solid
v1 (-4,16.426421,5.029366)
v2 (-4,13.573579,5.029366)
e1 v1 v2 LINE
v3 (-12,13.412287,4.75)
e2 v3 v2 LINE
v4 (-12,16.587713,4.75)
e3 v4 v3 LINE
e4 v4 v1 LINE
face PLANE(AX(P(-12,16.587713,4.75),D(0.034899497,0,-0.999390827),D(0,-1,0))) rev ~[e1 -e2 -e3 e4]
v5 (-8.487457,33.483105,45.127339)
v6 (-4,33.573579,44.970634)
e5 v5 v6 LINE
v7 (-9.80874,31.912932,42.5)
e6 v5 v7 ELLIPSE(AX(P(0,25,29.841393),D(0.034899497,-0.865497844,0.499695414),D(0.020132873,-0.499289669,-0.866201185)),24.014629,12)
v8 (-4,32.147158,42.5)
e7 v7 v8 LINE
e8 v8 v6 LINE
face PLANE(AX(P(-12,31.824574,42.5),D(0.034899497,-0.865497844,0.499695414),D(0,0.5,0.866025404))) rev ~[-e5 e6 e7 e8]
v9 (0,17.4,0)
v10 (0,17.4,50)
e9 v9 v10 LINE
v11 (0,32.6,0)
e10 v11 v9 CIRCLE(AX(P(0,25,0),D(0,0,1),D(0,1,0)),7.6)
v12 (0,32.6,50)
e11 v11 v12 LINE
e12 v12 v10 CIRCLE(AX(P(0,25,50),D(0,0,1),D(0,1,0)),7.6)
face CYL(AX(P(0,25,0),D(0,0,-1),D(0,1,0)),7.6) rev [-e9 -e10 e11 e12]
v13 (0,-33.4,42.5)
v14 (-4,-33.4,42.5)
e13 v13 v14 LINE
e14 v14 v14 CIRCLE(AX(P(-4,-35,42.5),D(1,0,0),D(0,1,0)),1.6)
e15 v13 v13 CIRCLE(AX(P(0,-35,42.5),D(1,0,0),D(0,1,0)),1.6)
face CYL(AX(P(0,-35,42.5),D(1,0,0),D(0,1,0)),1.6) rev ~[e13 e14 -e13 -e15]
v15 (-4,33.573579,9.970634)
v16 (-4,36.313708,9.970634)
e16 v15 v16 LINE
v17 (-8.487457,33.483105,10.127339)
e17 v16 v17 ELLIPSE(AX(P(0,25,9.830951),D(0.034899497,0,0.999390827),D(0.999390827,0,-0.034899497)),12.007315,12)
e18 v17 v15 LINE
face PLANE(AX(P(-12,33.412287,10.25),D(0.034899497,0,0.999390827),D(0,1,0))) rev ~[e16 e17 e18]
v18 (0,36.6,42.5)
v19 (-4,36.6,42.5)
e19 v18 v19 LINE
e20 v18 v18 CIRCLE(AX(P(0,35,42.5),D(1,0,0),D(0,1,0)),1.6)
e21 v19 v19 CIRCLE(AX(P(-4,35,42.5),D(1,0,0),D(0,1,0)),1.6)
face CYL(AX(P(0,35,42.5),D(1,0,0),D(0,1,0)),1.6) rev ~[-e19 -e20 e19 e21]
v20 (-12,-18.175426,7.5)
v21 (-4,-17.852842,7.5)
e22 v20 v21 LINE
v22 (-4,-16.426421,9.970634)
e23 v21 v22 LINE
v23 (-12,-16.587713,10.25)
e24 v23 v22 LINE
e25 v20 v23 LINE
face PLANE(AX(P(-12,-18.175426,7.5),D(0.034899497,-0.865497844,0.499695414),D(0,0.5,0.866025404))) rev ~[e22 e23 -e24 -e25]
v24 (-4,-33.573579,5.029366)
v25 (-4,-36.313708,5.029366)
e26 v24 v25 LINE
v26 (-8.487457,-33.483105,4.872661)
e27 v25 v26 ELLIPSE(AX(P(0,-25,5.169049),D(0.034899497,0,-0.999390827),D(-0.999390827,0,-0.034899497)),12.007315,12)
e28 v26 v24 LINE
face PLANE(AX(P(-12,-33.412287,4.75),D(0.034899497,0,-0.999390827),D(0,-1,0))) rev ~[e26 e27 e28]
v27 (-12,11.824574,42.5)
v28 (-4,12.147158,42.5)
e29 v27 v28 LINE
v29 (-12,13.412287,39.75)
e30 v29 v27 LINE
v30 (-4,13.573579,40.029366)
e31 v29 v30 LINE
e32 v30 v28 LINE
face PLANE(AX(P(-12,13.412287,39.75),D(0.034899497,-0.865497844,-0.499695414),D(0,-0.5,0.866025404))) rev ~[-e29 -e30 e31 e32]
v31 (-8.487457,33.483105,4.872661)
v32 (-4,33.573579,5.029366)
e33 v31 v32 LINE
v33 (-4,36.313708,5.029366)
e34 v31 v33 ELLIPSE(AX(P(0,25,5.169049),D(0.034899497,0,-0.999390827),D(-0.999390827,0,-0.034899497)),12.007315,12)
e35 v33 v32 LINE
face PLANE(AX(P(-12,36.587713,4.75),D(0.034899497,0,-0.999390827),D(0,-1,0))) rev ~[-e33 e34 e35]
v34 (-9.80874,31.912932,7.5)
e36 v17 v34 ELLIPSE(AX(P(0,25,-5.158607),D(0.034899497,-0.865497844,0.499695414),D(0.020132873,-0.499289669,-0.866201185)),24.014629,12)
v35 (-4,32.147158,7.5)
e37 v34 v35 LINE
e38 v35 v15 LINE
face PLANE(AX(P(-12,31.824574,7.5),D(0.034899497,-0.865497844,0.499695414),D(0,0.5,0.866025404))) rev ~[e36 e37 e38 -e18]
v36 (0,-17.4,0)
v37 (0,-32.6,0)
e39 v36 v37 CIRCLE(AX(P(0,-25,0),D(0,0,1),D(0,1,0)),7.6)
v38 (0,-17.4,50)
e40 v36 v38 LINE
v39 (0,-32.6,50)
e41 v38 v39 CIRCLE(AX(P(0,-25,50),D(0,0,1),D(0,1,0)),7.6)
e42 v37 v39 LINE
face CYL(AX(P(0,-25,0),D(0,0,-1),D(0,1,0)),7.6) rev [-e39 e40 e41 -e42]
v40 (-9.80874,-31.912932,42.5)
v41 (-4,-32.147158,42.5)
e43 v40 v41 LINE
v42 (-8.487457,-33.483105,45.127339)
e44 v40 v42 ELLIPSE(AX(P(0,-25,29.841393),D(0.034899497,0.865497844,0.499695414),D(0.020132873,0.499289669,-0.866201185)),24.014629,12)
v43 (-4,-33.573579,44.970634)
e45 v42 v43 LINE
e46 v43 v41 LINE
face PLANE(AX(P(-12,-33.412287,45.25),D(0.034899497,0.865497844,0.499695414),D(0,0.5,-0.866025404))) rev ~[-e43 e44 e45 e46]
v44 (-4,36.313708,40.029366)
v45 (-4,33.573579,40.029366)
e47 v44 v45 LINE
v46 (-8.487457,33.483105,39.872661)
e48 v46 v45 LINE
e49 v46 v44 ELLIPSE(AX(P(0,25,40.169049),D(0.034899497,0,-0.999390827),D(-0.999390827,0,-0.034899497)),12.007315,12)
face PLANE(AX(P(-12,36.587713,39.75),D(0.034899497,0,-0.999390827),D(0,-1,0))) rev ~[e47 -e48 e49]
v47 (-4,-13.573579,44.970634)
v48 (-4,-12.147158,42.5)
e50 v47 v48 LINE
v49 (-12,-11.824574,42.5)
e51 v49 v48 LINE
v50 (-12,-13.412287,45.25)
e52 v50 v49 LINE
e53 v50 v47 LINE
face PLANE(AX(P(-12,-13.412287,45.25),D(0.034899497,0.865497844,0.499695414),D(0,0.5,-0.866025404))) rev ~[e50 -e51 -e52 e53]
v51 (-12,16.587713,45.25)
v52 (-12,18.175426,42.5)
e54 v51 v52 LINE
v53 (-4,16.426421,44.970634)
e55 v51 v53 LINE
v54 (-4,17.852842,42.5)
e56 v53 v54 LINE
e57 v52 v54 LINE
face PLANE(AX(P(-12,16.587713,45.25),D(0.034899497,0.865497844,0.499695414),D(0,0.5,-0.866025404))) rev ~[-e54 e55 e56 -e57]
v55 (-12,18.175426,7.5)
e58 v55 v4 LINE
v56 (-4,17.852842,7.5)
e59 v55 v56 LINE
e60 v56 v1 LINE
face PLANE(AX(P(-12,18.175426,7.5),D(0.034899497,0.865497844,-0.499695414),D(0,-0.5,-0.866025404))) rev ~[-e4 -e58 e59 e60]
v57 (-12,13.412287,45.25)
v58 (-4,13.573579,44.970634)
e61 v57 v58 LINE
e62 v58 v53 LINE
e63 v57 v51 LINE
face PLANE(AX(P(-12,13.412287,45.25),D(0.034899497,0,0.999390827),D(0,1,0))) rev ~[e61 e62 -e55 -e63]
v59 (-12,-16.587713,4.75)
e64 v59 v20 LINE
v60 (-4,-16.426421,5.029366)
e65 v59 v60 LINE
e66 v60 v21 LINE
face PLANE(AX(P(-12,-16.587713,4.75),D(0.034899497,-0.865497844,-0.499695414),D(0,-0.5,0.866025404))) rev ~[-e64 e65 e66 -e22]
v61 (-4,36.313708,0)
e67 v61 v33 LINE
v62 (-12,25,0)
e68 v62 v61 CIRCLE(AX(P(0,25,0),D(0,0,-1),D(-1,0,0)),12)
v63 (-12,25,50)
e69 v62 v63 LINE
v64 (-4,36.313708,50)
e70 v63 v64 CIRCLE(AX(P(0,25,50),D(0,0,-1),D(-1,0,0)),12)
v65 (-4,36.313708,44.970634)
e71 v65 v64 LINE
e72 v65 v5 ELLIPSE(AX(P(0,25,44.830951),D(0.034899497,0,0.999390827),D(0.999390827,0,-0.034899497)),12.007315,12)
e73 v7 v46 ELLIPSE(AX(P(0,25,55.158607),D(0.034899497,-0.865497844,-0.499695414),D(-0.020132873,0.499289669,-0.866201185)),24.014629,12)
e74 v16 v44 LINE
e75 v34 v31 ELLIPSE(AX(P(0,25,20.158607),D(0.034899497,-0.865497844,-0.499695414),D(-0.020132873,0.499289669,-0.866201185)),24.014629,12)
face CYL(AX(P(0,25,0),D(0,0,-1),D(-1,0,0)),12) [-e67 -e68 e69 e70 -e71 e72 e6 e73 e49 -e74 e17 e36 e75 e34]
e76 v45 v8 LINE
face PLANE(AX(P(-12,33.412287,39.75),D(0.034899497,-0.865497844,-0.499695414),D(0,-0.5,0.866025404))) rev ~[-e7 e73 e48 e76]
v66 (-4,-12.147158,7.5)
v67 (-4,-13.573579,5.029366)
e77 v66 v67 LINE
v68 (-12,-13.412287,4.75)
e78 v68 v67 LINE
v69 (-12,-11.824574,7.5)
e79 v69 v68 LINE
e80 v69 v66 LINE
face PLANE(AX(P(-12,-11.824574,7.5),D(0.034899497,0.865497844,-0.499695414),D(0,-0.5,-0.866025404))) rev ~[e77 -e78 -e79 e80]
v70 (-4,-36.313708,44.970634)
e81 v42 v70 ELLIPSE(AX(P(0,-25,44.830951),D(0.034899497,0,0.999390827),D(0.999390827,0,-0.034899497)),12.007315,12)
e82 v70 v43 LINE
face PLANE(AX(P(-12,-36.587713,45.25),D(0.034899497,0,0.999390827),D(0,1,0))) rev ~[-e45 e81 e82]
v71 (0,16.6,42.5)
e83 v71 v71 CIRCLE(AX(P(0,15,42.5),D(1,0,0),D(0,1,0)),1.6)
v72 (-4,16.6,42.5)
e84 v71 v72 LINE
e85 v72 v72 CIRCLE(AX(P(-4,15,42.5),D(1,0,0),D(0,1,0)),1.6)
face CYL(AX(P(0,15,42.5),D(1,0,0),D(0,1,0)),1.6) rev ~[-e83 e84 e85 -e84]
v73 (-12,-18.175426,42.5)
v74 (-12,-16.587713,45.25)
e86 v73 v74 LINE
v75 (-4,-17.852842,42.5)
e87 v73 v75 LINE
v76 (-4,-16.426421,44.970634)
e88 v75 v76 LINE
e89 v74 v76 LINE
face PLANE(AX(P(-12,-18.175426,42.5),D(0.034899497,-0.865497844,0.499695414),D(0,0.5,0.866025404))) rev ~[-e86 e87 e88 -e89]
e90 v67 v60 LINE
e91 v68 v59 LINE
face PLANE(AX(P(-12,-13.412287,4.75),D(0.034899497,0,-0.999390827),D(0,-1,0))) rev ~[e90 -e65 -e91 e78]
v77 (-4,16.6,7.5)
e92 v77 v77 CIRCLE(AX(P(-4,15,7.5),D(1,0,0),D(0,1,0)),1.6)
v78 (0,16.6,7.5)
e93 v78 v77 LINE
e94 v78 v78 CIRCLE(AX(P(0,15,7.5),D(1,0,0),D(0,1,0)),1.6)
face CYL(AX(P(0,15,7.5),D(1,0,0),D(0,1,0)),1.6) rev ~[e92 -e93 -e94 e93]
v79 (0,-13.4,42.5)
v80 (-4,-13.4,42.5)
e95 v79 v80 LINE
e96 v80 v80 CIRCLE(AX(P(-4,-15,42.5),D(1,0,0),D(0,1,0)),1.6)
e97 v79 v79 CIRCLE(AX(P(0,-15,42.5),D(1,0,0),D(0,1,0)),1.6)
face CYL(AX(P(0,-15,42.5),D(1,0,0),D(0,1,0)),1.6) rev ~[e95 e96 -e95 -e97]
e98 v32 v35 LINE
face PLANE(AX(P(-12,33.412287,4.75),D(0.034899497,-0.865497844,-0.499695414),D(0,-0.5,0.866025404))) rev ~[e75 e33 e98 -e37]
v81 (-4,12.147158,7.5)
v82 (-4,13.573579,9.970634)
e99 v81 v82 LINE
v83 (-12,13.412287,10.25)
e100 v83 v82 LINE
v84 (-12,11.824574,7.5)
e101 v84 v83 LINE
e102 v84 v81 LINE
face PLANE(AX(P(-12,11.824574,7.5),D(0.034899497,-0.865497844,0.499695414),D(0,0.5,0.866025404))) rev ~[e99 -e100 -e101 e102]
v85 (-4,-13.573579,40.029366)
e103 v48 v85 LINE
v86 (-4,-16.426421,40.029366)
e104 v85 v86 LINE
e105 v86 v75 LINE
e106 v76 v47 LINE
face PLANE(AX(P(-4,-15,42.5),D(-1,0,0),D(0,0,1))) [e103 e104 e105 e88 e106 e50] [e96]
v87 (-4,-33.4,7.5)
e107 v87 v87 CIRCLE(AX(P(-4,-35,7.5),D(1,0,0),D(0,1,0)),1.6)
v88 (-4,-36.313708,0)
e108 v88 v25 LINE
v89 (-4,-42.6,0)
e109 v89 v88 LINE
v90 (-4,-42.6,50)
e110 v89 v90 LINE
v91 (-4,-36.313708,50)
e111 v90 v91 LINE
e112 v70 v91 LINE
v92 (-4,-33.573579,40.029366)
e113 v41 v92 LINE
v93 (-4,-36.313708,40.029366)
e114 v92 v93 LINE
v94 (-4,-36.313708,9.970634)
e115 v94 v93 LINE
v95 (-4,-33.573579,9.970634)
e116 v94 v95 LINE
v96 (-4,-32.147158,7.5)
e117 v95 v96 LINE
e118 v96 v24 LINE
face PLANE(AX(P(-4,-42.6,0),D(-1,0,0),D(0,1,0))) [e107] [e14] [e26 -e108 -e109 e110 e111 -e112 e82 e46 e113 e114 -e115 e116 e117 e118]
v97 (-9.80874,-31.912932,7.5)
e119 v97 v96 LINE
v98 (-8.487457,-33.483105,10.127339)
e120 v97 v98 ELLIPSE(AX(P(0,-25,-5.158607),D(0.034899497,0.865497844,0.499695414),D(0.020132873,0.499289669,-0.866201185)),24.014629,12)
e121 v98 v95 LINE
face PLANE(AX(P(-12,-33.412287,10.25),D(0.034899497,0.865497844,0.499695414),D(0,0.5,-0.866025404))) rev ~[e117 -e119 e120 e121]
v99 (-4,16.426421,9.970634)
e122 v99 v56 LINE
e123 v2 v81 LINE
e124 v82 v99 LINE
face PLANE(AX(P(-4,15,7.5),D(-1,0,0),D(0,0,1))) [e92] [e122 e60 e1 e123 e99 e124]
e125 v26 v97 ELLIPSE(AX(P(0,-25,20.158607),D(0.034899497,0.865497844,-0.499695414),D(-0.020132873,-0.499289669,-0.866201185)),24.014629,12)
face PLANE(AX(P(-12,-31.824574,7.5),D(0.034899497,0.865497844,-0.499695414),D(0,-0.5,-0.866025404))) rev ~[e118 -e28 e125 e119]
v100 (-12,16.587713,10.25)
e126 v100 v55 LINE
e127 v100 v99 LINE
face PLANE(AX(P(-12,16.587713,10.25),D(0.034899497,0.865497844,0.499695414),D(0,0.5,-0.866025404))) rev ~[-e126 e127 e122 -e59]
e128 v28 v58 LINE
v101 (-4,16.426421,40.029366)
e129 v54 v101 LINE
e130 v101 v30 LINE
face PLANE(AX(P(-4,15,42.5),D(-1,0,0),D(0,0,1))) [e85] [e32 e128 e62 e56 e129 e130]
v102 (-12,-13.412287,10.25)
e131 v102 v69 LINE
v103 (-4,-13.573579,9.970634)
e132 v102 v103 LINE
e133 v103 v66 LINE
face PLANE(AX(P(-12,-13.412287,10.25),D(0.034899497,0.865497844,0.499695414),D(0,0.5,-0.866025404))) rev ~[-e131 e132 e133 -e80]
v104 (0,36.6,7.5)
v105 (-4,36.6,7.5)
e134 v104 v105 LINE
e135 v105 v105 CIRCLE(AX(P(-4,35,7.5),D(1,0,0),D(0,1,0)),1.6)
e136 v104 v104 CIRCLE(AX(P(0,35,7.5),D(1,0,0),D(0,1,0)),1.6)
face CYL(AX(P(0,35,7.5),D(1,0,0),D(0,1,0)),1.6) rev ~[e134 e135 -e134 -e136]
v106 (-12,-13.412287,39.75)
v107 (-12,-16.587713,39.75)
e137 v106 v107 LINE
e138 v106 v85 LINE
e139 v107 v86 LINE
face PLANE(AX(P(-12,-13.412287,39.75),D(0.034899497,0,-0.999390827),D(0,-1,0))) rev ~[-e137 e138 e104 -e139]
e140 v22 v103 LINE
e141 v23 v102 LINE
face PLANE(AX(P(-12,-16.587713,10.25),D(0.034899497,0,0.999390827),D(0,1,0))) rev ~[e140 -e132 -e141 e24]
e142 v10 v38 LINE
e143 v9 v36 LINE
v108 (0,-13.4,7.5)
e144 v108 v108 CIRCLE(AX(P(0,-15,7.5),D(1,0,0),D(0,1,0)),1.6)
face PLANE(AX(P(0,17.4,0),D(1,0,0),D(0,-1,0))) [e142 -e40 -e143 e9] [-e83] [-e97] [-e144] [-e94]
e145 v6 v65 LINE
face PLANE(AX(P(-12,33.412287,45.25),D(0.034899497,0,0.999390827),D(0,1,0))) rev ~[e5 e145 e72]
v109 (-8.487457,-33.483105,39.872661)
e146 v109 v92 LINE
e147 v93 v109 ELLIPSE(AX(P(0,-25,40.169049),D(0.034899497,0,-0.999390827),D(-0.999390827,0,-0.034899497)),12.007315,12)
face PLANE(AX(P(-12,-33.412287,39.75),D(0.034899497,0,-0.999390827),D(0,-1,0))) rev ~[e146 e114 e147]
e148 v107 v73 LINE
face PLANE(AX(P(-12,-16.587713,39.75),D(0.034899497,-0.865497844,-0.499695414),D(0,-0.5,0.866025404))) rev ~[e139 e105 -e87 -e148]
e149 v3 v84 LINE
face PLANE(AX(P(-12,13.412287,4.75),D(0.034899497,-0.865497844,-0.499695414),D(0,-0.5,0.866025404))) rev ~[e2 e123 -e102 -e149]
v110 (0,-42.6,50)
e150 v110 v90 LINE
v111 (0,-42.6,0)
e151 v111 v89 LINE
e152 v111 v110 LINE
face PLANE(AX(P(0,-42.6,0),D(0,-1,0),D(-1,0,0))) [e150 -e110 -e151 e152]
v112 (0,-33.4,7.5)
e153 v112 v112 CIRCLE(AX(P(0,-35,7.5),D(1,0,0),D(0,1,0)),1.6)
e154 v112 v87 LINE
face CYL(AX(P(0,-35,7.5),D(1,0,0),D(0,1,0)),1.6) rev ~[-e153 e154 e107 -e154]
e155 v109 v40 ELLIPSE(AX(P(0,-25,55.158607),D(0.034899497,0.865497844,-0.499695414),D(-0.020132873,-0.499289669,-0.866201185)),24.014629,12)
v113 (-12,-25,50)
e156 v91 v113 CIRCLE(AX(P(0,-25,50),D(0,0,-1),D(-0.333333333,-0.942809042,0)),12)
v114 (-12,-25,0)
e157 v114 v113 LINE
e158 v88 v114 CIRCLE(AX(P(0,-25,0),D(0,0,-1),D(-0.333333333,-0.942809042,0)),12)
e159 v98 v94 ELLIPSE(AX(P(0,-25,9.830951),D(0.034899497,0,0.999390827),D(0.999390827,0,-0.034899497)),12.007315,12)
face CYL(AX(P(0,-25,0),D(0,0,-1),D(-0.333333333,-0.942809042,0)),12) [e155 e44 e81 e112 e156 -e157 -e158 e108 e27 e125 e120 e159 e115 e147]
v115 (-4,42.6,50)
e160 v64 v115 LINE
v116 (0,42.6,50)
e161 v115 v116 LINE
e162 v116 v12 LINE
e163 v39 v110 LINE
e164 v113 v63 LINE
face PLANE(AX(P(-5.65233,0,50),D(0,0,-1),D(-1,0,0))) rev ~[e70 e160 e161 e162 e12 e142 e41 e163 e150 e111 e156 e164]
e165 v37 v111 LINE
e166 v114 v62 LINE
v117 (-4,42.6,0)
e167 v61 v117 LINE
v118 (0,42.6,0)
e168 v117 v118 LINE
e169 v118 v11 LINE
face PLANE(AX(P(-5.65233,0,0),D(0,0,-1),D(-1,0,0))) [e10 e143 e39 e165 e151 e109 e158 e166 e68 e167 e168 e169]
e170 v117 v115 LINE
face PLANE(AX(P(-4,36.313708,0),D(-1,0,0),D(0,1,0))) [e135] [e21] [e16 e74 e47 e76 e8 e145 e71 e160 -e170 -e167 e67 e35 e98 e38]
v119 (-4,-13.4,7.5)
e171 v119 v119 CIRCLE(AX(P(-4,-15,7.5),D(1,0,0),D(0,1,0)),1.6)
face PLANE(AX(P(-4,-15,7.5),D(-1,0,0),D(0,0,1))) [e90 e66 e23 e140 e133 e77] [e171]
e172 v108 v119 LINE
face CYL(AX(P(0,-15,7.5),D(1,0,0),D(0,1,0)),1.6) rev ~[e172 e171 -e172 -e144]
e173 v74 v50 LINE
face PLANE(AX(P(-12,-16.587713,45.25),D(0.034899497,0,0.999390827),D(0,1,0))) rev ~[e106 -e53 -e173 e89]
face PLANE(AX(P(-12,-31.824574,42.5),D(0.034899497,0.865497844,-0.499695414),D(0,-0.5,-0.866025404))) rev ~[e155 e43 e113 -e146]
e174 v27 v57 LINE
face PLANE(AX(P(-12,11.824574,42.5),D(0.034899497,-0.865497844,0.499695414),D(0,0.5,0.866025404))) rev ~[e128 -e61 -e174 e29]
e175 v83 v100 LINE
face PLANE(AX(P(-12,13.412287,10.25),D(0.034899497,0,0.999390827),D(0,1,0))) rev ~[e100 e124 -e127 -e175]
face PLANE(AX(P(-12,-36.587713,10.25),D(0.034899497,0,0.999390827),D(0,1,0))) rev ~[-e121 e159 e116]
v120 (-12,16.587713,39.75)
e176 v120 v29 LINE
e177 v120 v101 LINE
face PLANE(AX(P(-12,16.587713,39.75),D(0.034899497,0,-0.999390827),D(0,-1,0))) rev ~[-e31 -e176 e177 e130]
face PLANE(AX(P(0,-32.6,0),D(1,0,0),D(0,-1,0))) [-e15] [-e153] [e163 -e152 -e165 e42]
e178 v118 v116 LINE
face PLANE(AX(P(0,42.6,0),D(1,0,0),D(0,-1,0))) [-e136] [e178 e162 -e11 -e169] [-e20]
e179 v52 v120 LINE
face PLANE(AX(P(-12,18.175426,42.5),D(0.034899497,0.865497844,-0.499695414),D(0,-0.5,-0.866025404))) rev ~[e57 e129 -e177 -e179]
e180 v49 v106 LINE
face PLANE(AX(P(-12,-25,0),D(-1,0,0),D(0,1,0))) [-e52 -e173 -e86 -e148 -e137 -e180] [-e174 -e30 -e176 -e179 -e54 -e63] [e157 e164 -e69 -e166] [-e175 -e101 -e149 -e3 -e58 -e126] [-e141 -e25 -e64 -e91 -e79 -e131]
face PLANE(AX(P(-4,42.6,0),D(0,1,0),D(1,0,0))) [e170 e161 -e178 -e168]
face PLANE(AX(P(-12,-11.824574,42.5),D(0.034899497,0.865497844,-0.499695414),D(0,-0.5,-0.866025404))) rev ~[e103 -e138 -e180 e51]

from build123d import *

# Parameters (mm, degrees)
RESSALTO_EXTRUS_O1_DEPTH        = 50
ESBO_O2_R                       = 1.6
CORTE_EXTRUS_O1_DEPTH           = 67.773947015
CORTE_EXTRUS_O2_DEPTH           = 8
CORTE_EXTRUS_O2_DRAFT           = -2
CORTE_EXTRUS_O2_PROFILE_2_DEPTH = 8
CORTE_EXTRUS_O2_PROFILE_2_DRAFT = -2
CORTE_EXTRUS_O2_PROFILE_3_DEPTH = 8
CORTE_EXTRUS_O2_PROFILE_3_DRAFT = -2
CORTE_EXTRUS_O2_PROFILE_4_DEPTH = 8
CORTE_EXTRUS_O2_PROFILE_4_DRAFT = -2
CORTE_EXTRUS_O2_PROFILE_5_DEPTH = 8
CORTE_EXTRUS_O2_PROFILE_5_DRAFT = -2
CORTE_EXTRUS_O2_PROFILE_6_DEPTH = 8
CORTE_EXTRUS_O2_PROFILE_6_DRAFT = -2
CORTE_EXTRUS_O2_PROFILE_7_DEPTH = 8
CORTE_EXTRUS_O2_PROFILE_7_DRAFT = -2
CORTE_EXTRUS_O2_PROFILE_8_DEPTH = 8
CORTE_EXTRUS_O2_PROFILE_8_DRAFT = -2


with BuildPart() as part:
    # Esboço1 → Ressalto-extrusão1 (new body)
    with BuildSketch(Plane.XY):
        with BuildLine():
            Line((0, 17.4), (0, -17.4))
            ThreePointArc((0, -17.4), (-7.6, -25), (0, -32.6))
            Line((0, -32.6), (0, -42.6))
            Line((0, -42.6), (-4, -42.6))
            Line((-4, -42.6), (-4, -36.313708499))
            ThreePointArc((-4, -36.313708499), (-9.797958971, -31.92820323), (-12, -25))
            Line((-12, -25), (-12, 25))
            ThreePointArc((-12, 25), (-9.797958971, 31.92820323), (-4, 36.313708499))
            Line((-4, 36.313708499), (-4, 42.6))
            Line((-4, 42.6), (0, 42.6))
            Line((0, 42.6), (0, 32.6))
            ThreePointArc((0, 32.6), (-7.6, 25), (0, 17.4))
        make_face()
    extrude(amount=RESSALTO_EXTRUS_O1_DEPTH)

    # Esboço2 → Corte-extrusão1 (cut, through all)
    with BuildSketch(Plane(origin=(0, 0, 0), x_dir=(0, 0, -1), z_dir=(1, 0, 0))):
        with Locations(Location((-42.5, 35, 0), (0, 0, 90))):
            Circle(ESBO_O2_R)
        with Locations(Location((-7.5, 35, 0), (0, 0, 90))):
            Circle(ESBO_O2_R)
        with Locations(Location((-7.5, -35, 0), (0, 0, 90))):
            Circle(ESBO_O2_R)
        with Locations(Location((-42.5, -35, 0), (0, 0, 90))):
            Circle(ESBO_O2_R)
        with Locations(Location((-42.5, -15, 0), (0, 0, 90))):
            Circle(ESBO_O2_R)
        with Locations(Location((-42.5, 15, 0), (0, 0, 90))):
            Circle(ESBO_O2_R)
        with Locations(Location((-7.5, 15, 0), (0, 0, 90))):
            Circle(ESBO_O2_R)
        with Locations(Location((-7.5, -15, 0), (0, 0, 90))):
            Circle(ESBO_O2_R)
    extrude(amount=-CORTE_EXTRUS_O1_DEPTH, mode=Mode.SUBTRACT)


with BuildPart() as corte_extrus_o2_tool:
    # Esboço3 → Corte-extrusão2 (with draft: the straight prism first)
    with BuildSketch(Plane.ZY.offset(12)):
        Polygon((10.25, 36.58771324), (7.5, 38.175426481), (4.75, 36.58771324), (4.75, 33.41228676), (7.5, 31.824573519), (10.25, 33.41228676), align=None)
    extrude(amount=-CORTE_EXTRUS_O2_DEPTH)
    # Corte-extrusão2: the draft: its side faces are tilted about the plane it starts from
    corte_extrus_o2_sides = [corte_extrus_o2_tool.faces().sort_by_distance(p)[0] for p in [
        (-8, 37.38156986, 8.875),
        (-8, 37.38156986, 6.125),
        (-8, 35, 4.75),
        (-8, 32.61843014, 6.125),
        (-8, 32.61843014, 8.875),
        (-8, 35, 10.25),
    ]]
    draft(corte_extrus_o2_sides, Plane.ZY.offset(12), CORTE_EXTRUS_O2_DRAFT)


with BuildPart() as part_1:
    add(part.part)

    # Corte-extrusão2: cut by corte_extrus_o2_tool
    add(corte_extrus_o2_tool.part, mode=Mode.SUBTRACT)


with BuildPart() as corte_extrus_o2_profile_2_tool:
    # Esboço3 → Corte-extrusão2 profile 2 (with draft: the straight prism first)
    with BuildSketch(Plane.ZY.offset(12)):
        Polygon((45.25, 36.58771324), (42.5, 38.175426481), (39.75, 36.58771324), (39.75, 33.41228676), (42.5, 31.824573519), (45.25, 33.41228676), align=None)
    extrude(amount=-CORTE_EXTRUS_O2_PROFILE_2_DEPTH)
    # Corte-extrusão2 profile 2: the draft: its side faces are tilted about the plane it starts from
    corte_extrus_o2_profile_2_sides = [corte_extrus_o2_profile_2_tool.faces().sort_by_distance(p)[0] for p in [
        (-8, 37.38156986, 43.875),
        (-8, 37.38156986, 41.125),
        (-8, 35, 39.75),
        (-8, 32.61843014, 41.125),
        (-8, 32.61843014, 43.875),
        (-8, 35, 45.25),
    ]]
    draft(corte_extrus_o2_profile_2_sides, Plane.ZY.offset(12), CORTE_EXTRUS_O2_PROFILE_2_DRAFT)


with BuildPart() as part_2:
    add(part_1.part)

    # Corte-extrusão2 profile 2: cut by corte_extrus_o2_profile_2_tool
    add(corte_extrus_o2_profile_2_tool.part, mode=Mode.SUBTRACT)


with BuildPart() as corte_extrus_o2_profile_3_tool:
    # Esboço3 → Corte-extrusão2 profile 3 (with draft: the straight prism first)
    with BuildSketch(Plane.ZY.offset(12)):
        Polygon((45.25, 16.58771324), (42.5, 18.175426481), (39.75, 16.58771324), (39.75, 13.41228676), (42.5, 11.824573519), (45.25, 13.41228676), align=None)
    extrude(amount=-CORTE_EXTRUS_O2_PROFILE_3_DEPTH)
    # Corte-extrusão2 profile 3: the draft: its side faces are tilted about the plane it starts from
    corte_extrus_o2_profile_3_sides = [corte_extrus_o2_profile_3_tool.faces().sort_by_distance(p)[0] for p in [
        (-8, 17.38156986, 43.875),
        (-8, 17.38156986, 41.125),
        (-8, 15, 39.75),
        (-8, 12.61843014, 41.125),
        (-8, 12.61843014, 43.875),
        (-8, 15, 45.25),
    ]]
    draft(corte_extrus_o2_profile_3_sides, Plane.ZY.offset(12), CORTE_EXTRUS_O2_PROFILE_3_DRAFT)


with BuildPart() as part_3:
    add(part_2.part)

    # Corte-extrusão2 profile 3: cut by corte_extrus_o2_profile_3_tool
    add(corte_extrus_o2_profile_3_tool.part, mode=Mode.SUBTRACT)


with BuildPart() as corte_extrus_o2_profile_4_tool:
    # Esboço3 → Corte-extrusão2 profile 4 (with draft: the straight prism first)
    with BuildSketch(Plane.ZY.offset(12)):
        Polygon((10.25, 16.58771324), (7.5, 18.175426481), (4.75, 16.58771324), (4.75, 13.41228676), (7.5, 11.824573519), (10.25, 13.41228676), align=None)
    extrude(amount=-CORTE_EXTRUS_O2_PROFILE_4_DEPTH)
    # Corte-extrusão2 profile 4: the draft: its side faces are tilted about the plane it starts from
    corte_extrus_o2_profile_4_sides = [corte_extrus_o2_profile_4_tool.faces().sort_by_distance(p)[0] for p in [
        (-8, 17.38156986, 8.875),
        (-8, 17.38156986, 6.125),
        (-8, 15, 4.75),
        (-8, 12.61843014, 6.125),
        (-8, 12.61843014, 8.875),
        (-8, 15, 10.25),
    ]]
    draft(corte_extrus_o2_profile_4_sides, Plane.ZY.offset(12), CORTE_EXTRUS_O2_PROFILE_4_DRAFT)


with BuildPart() as part_4:
    add(part_3.part)

    # Corte-extrusão2 profile 4: cut by corte_extrus_o2_profile_4_tool
    add(corte_extrus_o2_profile_4_tool.part, mode=Mode.SUBTRACT)


with BuildPart() as corte_extrus_o2_profile_5_tool:
    # Esboço3 → Corte-extrusão2 profile 5 (with draft: the straight prism first)
    with BuildSketch(Plane.ZY.offset(12)):
        Polygon((10.25, -13.41228676), (7.5, -11.824573519), (4.75, -13.41228676), (4.75, -16.58771324), (7.5, -18.175426481), (10.25, -16.58771324), align=None)
    extrude(amount=-CORTE_EXTRUS_O2_PROFILE_5_DEPTH)
    # Corte-extrusão2 profile 5: the draft: its side faces are tilted about the plane it starts from
    corte_extrus_o2_profile_5_sides = [corte_extrus_o2_profile_5_tool.faces().sort_by_distance(p)[0] for p in [
        (-8, -12.61843014, 8.875),
        (-8, -12.61843014, 6.125),
        (-8, -15, 4.75),
        (-8, -17.38156986, 6.125),
        (-8, -17.38156986, 8.875),
        (-8, -15, 10.25),
    ]]
    draft(corte_extrus_o2_profile_5_sides, Plane.ZY.offset(12), CORTE_EXTRUS_O2_PROFILE_5_DRAFT)


with BuildPart() as part_5:
    add(part_4.part)

    # Corte-extrusão2 profile 5: cut by corte_extrus_o2_profile_5_tool
    add(corte_extrus_o2_profile_5_tool.part, mode=Mode.SUBTRACT)


with BuildPart() as corte_extrus_o2_profile_6_tool:
    # Esboço3 → Corte-extrusão2 profile 6 (with draft: the straight prism first)
    with BuildSketch(Plane.ZY.offset(12)):
        Polygon((10.25, -33.41228676), (7.5, -31.824573519), (4.75, -33.41228676), (4.75, -36.58771324), (7.5, -38.175426481), (10.25, -36.58771324), align=None)
    extrude(amount=-CORTE_EXTRUS_O2_PROFILE_6_DEPTH)
    # Corte-extrusão2 profile 6: the draft: its side faces are tilted about the plane it starts from
    corte_extrus_o2_profile_6_sides = [corte_extrus_o2_profile_6_tool.faces().sort_by_distance(p)[0] for p in [
        (-8, -32.61843014, 8.875),
        (-8, -32.61843014, 6.125),
        (-8, -35, 4.75),
        (-8, -37.38156986, 6.125),
        (-8, -37.38156986, 8.875),
        (-8, -35, 10.25),
    ]]
    draft(corte_extrus_o2_profile_6_sides, Plane.ZY.offset(12), CORTE_EXTRUS_O2_PROFILE_6_DRAFT)


with BuildPart() as part_6:
    add(part_5.part)

    # Corte-extrusão2 profile 6: cut by corte_extrus_o2_profile_6_tool
    add(corte_extrus_o2_profile_6_tool.part, mode=Mode.SUBTRACT)


with BuildPart() as corte_extrus_o2_profile_7_tool:
    # Esboço3 → Corte-extrusão2 profile 7 (with draft: the straight prism first)
    with BuildSketch(Plane.ZY.offset(12)):
        Polygon((45.25, -33.41228676), (42.5, -31.824573519), (39.75, -33.41228676), (39.75, -36.58771324), (42.5, -38.175426481), (45.25, -36.58771324), align=None)
    extrude(amount=-CORTE_EXTRUS_O2_PROFILE_7_DEPTH)
    # Corte-extrusão2 profile 7: the draft: its side faces are tilted about the plane it starts from
    corte_extrus_o2_profile_7_sides = [corte_extrus_o2_profile_7_tool.faces().sort_by_distance(p)[0] for p in [
        (-8, -32.61843014, 43.875),
        (-8, -32.61843014, 41.125),
        (-8, -35, 39.75),
        (-8, -37.38156986, 41.125),
        (-8, -37.38156986, 43.875),
        (-8, -35, 45.25),
    ]]
    draft(corte_extrus_o2_profile_7_sides, Plane.ZY.offset(12), CORTE_EXTRUS_O2_PROFILE_7_DRAFT)


with BuildPart() as part_7:
    add(part_6.part)

    # Corte-extrusão2 profile 7: cut by corte_extrus_o2_profile_7_tool
    add(corte_extrus_o2_profile_7_tool.part, mode=Mode.SUBTRACT)


with BuildPart() as corte_extrus_o2_profile_8_tool:
    # Esboço3 → Corte-extrusão2 profile 8 (with draft: the straight prism first)
    with BuildSketch(Plane.ZY.offset(12)):
        Polygon((45.25, -13.41228676), (42.5, -11.824573519), (39.75, -13.41228676), (39.75, -16.58771324), (42.5, -18.175426481), (45.25, -16.58771324), align=None)
    extrude(amount=-CORTE_EXTRUS_O2_PROFILE_8_DEPTH)
    # Corte-extrusão2 profile 8: the draft: its side faces are tilted about the plane it starts from
    corte_extrus_o2_profile_8_sides = [corte_extrus_o2_profile_8_tool.faces().sort_by_distance(p)[0] for p in [
        (-8, -12.61843014, 43.875),
        (-8, -12.61843014, 41.125),
        (-8, -15, 39.75),
        (-8, -17.38156986, 41.125),
        (-8, -17.38156986, 43.875),
        (-8, -15, 45.25),
    ]]
    draft(corte_extrus_o2_profile_8_sides, Plane.ZY.offset(12), CORTE_EXTRUS_O2_PROFILE_8_DRAFT)


with BuildPart() as part_8:
    add(part_7.part)

    # Corte-extrusão2 profile 8: cut by corte_extrus_o2_profile_8_tool
    add(corte_extrus_o2_profile_8_tool.part, mode=Mode.SUBTRACT)


solid = part_8.part
